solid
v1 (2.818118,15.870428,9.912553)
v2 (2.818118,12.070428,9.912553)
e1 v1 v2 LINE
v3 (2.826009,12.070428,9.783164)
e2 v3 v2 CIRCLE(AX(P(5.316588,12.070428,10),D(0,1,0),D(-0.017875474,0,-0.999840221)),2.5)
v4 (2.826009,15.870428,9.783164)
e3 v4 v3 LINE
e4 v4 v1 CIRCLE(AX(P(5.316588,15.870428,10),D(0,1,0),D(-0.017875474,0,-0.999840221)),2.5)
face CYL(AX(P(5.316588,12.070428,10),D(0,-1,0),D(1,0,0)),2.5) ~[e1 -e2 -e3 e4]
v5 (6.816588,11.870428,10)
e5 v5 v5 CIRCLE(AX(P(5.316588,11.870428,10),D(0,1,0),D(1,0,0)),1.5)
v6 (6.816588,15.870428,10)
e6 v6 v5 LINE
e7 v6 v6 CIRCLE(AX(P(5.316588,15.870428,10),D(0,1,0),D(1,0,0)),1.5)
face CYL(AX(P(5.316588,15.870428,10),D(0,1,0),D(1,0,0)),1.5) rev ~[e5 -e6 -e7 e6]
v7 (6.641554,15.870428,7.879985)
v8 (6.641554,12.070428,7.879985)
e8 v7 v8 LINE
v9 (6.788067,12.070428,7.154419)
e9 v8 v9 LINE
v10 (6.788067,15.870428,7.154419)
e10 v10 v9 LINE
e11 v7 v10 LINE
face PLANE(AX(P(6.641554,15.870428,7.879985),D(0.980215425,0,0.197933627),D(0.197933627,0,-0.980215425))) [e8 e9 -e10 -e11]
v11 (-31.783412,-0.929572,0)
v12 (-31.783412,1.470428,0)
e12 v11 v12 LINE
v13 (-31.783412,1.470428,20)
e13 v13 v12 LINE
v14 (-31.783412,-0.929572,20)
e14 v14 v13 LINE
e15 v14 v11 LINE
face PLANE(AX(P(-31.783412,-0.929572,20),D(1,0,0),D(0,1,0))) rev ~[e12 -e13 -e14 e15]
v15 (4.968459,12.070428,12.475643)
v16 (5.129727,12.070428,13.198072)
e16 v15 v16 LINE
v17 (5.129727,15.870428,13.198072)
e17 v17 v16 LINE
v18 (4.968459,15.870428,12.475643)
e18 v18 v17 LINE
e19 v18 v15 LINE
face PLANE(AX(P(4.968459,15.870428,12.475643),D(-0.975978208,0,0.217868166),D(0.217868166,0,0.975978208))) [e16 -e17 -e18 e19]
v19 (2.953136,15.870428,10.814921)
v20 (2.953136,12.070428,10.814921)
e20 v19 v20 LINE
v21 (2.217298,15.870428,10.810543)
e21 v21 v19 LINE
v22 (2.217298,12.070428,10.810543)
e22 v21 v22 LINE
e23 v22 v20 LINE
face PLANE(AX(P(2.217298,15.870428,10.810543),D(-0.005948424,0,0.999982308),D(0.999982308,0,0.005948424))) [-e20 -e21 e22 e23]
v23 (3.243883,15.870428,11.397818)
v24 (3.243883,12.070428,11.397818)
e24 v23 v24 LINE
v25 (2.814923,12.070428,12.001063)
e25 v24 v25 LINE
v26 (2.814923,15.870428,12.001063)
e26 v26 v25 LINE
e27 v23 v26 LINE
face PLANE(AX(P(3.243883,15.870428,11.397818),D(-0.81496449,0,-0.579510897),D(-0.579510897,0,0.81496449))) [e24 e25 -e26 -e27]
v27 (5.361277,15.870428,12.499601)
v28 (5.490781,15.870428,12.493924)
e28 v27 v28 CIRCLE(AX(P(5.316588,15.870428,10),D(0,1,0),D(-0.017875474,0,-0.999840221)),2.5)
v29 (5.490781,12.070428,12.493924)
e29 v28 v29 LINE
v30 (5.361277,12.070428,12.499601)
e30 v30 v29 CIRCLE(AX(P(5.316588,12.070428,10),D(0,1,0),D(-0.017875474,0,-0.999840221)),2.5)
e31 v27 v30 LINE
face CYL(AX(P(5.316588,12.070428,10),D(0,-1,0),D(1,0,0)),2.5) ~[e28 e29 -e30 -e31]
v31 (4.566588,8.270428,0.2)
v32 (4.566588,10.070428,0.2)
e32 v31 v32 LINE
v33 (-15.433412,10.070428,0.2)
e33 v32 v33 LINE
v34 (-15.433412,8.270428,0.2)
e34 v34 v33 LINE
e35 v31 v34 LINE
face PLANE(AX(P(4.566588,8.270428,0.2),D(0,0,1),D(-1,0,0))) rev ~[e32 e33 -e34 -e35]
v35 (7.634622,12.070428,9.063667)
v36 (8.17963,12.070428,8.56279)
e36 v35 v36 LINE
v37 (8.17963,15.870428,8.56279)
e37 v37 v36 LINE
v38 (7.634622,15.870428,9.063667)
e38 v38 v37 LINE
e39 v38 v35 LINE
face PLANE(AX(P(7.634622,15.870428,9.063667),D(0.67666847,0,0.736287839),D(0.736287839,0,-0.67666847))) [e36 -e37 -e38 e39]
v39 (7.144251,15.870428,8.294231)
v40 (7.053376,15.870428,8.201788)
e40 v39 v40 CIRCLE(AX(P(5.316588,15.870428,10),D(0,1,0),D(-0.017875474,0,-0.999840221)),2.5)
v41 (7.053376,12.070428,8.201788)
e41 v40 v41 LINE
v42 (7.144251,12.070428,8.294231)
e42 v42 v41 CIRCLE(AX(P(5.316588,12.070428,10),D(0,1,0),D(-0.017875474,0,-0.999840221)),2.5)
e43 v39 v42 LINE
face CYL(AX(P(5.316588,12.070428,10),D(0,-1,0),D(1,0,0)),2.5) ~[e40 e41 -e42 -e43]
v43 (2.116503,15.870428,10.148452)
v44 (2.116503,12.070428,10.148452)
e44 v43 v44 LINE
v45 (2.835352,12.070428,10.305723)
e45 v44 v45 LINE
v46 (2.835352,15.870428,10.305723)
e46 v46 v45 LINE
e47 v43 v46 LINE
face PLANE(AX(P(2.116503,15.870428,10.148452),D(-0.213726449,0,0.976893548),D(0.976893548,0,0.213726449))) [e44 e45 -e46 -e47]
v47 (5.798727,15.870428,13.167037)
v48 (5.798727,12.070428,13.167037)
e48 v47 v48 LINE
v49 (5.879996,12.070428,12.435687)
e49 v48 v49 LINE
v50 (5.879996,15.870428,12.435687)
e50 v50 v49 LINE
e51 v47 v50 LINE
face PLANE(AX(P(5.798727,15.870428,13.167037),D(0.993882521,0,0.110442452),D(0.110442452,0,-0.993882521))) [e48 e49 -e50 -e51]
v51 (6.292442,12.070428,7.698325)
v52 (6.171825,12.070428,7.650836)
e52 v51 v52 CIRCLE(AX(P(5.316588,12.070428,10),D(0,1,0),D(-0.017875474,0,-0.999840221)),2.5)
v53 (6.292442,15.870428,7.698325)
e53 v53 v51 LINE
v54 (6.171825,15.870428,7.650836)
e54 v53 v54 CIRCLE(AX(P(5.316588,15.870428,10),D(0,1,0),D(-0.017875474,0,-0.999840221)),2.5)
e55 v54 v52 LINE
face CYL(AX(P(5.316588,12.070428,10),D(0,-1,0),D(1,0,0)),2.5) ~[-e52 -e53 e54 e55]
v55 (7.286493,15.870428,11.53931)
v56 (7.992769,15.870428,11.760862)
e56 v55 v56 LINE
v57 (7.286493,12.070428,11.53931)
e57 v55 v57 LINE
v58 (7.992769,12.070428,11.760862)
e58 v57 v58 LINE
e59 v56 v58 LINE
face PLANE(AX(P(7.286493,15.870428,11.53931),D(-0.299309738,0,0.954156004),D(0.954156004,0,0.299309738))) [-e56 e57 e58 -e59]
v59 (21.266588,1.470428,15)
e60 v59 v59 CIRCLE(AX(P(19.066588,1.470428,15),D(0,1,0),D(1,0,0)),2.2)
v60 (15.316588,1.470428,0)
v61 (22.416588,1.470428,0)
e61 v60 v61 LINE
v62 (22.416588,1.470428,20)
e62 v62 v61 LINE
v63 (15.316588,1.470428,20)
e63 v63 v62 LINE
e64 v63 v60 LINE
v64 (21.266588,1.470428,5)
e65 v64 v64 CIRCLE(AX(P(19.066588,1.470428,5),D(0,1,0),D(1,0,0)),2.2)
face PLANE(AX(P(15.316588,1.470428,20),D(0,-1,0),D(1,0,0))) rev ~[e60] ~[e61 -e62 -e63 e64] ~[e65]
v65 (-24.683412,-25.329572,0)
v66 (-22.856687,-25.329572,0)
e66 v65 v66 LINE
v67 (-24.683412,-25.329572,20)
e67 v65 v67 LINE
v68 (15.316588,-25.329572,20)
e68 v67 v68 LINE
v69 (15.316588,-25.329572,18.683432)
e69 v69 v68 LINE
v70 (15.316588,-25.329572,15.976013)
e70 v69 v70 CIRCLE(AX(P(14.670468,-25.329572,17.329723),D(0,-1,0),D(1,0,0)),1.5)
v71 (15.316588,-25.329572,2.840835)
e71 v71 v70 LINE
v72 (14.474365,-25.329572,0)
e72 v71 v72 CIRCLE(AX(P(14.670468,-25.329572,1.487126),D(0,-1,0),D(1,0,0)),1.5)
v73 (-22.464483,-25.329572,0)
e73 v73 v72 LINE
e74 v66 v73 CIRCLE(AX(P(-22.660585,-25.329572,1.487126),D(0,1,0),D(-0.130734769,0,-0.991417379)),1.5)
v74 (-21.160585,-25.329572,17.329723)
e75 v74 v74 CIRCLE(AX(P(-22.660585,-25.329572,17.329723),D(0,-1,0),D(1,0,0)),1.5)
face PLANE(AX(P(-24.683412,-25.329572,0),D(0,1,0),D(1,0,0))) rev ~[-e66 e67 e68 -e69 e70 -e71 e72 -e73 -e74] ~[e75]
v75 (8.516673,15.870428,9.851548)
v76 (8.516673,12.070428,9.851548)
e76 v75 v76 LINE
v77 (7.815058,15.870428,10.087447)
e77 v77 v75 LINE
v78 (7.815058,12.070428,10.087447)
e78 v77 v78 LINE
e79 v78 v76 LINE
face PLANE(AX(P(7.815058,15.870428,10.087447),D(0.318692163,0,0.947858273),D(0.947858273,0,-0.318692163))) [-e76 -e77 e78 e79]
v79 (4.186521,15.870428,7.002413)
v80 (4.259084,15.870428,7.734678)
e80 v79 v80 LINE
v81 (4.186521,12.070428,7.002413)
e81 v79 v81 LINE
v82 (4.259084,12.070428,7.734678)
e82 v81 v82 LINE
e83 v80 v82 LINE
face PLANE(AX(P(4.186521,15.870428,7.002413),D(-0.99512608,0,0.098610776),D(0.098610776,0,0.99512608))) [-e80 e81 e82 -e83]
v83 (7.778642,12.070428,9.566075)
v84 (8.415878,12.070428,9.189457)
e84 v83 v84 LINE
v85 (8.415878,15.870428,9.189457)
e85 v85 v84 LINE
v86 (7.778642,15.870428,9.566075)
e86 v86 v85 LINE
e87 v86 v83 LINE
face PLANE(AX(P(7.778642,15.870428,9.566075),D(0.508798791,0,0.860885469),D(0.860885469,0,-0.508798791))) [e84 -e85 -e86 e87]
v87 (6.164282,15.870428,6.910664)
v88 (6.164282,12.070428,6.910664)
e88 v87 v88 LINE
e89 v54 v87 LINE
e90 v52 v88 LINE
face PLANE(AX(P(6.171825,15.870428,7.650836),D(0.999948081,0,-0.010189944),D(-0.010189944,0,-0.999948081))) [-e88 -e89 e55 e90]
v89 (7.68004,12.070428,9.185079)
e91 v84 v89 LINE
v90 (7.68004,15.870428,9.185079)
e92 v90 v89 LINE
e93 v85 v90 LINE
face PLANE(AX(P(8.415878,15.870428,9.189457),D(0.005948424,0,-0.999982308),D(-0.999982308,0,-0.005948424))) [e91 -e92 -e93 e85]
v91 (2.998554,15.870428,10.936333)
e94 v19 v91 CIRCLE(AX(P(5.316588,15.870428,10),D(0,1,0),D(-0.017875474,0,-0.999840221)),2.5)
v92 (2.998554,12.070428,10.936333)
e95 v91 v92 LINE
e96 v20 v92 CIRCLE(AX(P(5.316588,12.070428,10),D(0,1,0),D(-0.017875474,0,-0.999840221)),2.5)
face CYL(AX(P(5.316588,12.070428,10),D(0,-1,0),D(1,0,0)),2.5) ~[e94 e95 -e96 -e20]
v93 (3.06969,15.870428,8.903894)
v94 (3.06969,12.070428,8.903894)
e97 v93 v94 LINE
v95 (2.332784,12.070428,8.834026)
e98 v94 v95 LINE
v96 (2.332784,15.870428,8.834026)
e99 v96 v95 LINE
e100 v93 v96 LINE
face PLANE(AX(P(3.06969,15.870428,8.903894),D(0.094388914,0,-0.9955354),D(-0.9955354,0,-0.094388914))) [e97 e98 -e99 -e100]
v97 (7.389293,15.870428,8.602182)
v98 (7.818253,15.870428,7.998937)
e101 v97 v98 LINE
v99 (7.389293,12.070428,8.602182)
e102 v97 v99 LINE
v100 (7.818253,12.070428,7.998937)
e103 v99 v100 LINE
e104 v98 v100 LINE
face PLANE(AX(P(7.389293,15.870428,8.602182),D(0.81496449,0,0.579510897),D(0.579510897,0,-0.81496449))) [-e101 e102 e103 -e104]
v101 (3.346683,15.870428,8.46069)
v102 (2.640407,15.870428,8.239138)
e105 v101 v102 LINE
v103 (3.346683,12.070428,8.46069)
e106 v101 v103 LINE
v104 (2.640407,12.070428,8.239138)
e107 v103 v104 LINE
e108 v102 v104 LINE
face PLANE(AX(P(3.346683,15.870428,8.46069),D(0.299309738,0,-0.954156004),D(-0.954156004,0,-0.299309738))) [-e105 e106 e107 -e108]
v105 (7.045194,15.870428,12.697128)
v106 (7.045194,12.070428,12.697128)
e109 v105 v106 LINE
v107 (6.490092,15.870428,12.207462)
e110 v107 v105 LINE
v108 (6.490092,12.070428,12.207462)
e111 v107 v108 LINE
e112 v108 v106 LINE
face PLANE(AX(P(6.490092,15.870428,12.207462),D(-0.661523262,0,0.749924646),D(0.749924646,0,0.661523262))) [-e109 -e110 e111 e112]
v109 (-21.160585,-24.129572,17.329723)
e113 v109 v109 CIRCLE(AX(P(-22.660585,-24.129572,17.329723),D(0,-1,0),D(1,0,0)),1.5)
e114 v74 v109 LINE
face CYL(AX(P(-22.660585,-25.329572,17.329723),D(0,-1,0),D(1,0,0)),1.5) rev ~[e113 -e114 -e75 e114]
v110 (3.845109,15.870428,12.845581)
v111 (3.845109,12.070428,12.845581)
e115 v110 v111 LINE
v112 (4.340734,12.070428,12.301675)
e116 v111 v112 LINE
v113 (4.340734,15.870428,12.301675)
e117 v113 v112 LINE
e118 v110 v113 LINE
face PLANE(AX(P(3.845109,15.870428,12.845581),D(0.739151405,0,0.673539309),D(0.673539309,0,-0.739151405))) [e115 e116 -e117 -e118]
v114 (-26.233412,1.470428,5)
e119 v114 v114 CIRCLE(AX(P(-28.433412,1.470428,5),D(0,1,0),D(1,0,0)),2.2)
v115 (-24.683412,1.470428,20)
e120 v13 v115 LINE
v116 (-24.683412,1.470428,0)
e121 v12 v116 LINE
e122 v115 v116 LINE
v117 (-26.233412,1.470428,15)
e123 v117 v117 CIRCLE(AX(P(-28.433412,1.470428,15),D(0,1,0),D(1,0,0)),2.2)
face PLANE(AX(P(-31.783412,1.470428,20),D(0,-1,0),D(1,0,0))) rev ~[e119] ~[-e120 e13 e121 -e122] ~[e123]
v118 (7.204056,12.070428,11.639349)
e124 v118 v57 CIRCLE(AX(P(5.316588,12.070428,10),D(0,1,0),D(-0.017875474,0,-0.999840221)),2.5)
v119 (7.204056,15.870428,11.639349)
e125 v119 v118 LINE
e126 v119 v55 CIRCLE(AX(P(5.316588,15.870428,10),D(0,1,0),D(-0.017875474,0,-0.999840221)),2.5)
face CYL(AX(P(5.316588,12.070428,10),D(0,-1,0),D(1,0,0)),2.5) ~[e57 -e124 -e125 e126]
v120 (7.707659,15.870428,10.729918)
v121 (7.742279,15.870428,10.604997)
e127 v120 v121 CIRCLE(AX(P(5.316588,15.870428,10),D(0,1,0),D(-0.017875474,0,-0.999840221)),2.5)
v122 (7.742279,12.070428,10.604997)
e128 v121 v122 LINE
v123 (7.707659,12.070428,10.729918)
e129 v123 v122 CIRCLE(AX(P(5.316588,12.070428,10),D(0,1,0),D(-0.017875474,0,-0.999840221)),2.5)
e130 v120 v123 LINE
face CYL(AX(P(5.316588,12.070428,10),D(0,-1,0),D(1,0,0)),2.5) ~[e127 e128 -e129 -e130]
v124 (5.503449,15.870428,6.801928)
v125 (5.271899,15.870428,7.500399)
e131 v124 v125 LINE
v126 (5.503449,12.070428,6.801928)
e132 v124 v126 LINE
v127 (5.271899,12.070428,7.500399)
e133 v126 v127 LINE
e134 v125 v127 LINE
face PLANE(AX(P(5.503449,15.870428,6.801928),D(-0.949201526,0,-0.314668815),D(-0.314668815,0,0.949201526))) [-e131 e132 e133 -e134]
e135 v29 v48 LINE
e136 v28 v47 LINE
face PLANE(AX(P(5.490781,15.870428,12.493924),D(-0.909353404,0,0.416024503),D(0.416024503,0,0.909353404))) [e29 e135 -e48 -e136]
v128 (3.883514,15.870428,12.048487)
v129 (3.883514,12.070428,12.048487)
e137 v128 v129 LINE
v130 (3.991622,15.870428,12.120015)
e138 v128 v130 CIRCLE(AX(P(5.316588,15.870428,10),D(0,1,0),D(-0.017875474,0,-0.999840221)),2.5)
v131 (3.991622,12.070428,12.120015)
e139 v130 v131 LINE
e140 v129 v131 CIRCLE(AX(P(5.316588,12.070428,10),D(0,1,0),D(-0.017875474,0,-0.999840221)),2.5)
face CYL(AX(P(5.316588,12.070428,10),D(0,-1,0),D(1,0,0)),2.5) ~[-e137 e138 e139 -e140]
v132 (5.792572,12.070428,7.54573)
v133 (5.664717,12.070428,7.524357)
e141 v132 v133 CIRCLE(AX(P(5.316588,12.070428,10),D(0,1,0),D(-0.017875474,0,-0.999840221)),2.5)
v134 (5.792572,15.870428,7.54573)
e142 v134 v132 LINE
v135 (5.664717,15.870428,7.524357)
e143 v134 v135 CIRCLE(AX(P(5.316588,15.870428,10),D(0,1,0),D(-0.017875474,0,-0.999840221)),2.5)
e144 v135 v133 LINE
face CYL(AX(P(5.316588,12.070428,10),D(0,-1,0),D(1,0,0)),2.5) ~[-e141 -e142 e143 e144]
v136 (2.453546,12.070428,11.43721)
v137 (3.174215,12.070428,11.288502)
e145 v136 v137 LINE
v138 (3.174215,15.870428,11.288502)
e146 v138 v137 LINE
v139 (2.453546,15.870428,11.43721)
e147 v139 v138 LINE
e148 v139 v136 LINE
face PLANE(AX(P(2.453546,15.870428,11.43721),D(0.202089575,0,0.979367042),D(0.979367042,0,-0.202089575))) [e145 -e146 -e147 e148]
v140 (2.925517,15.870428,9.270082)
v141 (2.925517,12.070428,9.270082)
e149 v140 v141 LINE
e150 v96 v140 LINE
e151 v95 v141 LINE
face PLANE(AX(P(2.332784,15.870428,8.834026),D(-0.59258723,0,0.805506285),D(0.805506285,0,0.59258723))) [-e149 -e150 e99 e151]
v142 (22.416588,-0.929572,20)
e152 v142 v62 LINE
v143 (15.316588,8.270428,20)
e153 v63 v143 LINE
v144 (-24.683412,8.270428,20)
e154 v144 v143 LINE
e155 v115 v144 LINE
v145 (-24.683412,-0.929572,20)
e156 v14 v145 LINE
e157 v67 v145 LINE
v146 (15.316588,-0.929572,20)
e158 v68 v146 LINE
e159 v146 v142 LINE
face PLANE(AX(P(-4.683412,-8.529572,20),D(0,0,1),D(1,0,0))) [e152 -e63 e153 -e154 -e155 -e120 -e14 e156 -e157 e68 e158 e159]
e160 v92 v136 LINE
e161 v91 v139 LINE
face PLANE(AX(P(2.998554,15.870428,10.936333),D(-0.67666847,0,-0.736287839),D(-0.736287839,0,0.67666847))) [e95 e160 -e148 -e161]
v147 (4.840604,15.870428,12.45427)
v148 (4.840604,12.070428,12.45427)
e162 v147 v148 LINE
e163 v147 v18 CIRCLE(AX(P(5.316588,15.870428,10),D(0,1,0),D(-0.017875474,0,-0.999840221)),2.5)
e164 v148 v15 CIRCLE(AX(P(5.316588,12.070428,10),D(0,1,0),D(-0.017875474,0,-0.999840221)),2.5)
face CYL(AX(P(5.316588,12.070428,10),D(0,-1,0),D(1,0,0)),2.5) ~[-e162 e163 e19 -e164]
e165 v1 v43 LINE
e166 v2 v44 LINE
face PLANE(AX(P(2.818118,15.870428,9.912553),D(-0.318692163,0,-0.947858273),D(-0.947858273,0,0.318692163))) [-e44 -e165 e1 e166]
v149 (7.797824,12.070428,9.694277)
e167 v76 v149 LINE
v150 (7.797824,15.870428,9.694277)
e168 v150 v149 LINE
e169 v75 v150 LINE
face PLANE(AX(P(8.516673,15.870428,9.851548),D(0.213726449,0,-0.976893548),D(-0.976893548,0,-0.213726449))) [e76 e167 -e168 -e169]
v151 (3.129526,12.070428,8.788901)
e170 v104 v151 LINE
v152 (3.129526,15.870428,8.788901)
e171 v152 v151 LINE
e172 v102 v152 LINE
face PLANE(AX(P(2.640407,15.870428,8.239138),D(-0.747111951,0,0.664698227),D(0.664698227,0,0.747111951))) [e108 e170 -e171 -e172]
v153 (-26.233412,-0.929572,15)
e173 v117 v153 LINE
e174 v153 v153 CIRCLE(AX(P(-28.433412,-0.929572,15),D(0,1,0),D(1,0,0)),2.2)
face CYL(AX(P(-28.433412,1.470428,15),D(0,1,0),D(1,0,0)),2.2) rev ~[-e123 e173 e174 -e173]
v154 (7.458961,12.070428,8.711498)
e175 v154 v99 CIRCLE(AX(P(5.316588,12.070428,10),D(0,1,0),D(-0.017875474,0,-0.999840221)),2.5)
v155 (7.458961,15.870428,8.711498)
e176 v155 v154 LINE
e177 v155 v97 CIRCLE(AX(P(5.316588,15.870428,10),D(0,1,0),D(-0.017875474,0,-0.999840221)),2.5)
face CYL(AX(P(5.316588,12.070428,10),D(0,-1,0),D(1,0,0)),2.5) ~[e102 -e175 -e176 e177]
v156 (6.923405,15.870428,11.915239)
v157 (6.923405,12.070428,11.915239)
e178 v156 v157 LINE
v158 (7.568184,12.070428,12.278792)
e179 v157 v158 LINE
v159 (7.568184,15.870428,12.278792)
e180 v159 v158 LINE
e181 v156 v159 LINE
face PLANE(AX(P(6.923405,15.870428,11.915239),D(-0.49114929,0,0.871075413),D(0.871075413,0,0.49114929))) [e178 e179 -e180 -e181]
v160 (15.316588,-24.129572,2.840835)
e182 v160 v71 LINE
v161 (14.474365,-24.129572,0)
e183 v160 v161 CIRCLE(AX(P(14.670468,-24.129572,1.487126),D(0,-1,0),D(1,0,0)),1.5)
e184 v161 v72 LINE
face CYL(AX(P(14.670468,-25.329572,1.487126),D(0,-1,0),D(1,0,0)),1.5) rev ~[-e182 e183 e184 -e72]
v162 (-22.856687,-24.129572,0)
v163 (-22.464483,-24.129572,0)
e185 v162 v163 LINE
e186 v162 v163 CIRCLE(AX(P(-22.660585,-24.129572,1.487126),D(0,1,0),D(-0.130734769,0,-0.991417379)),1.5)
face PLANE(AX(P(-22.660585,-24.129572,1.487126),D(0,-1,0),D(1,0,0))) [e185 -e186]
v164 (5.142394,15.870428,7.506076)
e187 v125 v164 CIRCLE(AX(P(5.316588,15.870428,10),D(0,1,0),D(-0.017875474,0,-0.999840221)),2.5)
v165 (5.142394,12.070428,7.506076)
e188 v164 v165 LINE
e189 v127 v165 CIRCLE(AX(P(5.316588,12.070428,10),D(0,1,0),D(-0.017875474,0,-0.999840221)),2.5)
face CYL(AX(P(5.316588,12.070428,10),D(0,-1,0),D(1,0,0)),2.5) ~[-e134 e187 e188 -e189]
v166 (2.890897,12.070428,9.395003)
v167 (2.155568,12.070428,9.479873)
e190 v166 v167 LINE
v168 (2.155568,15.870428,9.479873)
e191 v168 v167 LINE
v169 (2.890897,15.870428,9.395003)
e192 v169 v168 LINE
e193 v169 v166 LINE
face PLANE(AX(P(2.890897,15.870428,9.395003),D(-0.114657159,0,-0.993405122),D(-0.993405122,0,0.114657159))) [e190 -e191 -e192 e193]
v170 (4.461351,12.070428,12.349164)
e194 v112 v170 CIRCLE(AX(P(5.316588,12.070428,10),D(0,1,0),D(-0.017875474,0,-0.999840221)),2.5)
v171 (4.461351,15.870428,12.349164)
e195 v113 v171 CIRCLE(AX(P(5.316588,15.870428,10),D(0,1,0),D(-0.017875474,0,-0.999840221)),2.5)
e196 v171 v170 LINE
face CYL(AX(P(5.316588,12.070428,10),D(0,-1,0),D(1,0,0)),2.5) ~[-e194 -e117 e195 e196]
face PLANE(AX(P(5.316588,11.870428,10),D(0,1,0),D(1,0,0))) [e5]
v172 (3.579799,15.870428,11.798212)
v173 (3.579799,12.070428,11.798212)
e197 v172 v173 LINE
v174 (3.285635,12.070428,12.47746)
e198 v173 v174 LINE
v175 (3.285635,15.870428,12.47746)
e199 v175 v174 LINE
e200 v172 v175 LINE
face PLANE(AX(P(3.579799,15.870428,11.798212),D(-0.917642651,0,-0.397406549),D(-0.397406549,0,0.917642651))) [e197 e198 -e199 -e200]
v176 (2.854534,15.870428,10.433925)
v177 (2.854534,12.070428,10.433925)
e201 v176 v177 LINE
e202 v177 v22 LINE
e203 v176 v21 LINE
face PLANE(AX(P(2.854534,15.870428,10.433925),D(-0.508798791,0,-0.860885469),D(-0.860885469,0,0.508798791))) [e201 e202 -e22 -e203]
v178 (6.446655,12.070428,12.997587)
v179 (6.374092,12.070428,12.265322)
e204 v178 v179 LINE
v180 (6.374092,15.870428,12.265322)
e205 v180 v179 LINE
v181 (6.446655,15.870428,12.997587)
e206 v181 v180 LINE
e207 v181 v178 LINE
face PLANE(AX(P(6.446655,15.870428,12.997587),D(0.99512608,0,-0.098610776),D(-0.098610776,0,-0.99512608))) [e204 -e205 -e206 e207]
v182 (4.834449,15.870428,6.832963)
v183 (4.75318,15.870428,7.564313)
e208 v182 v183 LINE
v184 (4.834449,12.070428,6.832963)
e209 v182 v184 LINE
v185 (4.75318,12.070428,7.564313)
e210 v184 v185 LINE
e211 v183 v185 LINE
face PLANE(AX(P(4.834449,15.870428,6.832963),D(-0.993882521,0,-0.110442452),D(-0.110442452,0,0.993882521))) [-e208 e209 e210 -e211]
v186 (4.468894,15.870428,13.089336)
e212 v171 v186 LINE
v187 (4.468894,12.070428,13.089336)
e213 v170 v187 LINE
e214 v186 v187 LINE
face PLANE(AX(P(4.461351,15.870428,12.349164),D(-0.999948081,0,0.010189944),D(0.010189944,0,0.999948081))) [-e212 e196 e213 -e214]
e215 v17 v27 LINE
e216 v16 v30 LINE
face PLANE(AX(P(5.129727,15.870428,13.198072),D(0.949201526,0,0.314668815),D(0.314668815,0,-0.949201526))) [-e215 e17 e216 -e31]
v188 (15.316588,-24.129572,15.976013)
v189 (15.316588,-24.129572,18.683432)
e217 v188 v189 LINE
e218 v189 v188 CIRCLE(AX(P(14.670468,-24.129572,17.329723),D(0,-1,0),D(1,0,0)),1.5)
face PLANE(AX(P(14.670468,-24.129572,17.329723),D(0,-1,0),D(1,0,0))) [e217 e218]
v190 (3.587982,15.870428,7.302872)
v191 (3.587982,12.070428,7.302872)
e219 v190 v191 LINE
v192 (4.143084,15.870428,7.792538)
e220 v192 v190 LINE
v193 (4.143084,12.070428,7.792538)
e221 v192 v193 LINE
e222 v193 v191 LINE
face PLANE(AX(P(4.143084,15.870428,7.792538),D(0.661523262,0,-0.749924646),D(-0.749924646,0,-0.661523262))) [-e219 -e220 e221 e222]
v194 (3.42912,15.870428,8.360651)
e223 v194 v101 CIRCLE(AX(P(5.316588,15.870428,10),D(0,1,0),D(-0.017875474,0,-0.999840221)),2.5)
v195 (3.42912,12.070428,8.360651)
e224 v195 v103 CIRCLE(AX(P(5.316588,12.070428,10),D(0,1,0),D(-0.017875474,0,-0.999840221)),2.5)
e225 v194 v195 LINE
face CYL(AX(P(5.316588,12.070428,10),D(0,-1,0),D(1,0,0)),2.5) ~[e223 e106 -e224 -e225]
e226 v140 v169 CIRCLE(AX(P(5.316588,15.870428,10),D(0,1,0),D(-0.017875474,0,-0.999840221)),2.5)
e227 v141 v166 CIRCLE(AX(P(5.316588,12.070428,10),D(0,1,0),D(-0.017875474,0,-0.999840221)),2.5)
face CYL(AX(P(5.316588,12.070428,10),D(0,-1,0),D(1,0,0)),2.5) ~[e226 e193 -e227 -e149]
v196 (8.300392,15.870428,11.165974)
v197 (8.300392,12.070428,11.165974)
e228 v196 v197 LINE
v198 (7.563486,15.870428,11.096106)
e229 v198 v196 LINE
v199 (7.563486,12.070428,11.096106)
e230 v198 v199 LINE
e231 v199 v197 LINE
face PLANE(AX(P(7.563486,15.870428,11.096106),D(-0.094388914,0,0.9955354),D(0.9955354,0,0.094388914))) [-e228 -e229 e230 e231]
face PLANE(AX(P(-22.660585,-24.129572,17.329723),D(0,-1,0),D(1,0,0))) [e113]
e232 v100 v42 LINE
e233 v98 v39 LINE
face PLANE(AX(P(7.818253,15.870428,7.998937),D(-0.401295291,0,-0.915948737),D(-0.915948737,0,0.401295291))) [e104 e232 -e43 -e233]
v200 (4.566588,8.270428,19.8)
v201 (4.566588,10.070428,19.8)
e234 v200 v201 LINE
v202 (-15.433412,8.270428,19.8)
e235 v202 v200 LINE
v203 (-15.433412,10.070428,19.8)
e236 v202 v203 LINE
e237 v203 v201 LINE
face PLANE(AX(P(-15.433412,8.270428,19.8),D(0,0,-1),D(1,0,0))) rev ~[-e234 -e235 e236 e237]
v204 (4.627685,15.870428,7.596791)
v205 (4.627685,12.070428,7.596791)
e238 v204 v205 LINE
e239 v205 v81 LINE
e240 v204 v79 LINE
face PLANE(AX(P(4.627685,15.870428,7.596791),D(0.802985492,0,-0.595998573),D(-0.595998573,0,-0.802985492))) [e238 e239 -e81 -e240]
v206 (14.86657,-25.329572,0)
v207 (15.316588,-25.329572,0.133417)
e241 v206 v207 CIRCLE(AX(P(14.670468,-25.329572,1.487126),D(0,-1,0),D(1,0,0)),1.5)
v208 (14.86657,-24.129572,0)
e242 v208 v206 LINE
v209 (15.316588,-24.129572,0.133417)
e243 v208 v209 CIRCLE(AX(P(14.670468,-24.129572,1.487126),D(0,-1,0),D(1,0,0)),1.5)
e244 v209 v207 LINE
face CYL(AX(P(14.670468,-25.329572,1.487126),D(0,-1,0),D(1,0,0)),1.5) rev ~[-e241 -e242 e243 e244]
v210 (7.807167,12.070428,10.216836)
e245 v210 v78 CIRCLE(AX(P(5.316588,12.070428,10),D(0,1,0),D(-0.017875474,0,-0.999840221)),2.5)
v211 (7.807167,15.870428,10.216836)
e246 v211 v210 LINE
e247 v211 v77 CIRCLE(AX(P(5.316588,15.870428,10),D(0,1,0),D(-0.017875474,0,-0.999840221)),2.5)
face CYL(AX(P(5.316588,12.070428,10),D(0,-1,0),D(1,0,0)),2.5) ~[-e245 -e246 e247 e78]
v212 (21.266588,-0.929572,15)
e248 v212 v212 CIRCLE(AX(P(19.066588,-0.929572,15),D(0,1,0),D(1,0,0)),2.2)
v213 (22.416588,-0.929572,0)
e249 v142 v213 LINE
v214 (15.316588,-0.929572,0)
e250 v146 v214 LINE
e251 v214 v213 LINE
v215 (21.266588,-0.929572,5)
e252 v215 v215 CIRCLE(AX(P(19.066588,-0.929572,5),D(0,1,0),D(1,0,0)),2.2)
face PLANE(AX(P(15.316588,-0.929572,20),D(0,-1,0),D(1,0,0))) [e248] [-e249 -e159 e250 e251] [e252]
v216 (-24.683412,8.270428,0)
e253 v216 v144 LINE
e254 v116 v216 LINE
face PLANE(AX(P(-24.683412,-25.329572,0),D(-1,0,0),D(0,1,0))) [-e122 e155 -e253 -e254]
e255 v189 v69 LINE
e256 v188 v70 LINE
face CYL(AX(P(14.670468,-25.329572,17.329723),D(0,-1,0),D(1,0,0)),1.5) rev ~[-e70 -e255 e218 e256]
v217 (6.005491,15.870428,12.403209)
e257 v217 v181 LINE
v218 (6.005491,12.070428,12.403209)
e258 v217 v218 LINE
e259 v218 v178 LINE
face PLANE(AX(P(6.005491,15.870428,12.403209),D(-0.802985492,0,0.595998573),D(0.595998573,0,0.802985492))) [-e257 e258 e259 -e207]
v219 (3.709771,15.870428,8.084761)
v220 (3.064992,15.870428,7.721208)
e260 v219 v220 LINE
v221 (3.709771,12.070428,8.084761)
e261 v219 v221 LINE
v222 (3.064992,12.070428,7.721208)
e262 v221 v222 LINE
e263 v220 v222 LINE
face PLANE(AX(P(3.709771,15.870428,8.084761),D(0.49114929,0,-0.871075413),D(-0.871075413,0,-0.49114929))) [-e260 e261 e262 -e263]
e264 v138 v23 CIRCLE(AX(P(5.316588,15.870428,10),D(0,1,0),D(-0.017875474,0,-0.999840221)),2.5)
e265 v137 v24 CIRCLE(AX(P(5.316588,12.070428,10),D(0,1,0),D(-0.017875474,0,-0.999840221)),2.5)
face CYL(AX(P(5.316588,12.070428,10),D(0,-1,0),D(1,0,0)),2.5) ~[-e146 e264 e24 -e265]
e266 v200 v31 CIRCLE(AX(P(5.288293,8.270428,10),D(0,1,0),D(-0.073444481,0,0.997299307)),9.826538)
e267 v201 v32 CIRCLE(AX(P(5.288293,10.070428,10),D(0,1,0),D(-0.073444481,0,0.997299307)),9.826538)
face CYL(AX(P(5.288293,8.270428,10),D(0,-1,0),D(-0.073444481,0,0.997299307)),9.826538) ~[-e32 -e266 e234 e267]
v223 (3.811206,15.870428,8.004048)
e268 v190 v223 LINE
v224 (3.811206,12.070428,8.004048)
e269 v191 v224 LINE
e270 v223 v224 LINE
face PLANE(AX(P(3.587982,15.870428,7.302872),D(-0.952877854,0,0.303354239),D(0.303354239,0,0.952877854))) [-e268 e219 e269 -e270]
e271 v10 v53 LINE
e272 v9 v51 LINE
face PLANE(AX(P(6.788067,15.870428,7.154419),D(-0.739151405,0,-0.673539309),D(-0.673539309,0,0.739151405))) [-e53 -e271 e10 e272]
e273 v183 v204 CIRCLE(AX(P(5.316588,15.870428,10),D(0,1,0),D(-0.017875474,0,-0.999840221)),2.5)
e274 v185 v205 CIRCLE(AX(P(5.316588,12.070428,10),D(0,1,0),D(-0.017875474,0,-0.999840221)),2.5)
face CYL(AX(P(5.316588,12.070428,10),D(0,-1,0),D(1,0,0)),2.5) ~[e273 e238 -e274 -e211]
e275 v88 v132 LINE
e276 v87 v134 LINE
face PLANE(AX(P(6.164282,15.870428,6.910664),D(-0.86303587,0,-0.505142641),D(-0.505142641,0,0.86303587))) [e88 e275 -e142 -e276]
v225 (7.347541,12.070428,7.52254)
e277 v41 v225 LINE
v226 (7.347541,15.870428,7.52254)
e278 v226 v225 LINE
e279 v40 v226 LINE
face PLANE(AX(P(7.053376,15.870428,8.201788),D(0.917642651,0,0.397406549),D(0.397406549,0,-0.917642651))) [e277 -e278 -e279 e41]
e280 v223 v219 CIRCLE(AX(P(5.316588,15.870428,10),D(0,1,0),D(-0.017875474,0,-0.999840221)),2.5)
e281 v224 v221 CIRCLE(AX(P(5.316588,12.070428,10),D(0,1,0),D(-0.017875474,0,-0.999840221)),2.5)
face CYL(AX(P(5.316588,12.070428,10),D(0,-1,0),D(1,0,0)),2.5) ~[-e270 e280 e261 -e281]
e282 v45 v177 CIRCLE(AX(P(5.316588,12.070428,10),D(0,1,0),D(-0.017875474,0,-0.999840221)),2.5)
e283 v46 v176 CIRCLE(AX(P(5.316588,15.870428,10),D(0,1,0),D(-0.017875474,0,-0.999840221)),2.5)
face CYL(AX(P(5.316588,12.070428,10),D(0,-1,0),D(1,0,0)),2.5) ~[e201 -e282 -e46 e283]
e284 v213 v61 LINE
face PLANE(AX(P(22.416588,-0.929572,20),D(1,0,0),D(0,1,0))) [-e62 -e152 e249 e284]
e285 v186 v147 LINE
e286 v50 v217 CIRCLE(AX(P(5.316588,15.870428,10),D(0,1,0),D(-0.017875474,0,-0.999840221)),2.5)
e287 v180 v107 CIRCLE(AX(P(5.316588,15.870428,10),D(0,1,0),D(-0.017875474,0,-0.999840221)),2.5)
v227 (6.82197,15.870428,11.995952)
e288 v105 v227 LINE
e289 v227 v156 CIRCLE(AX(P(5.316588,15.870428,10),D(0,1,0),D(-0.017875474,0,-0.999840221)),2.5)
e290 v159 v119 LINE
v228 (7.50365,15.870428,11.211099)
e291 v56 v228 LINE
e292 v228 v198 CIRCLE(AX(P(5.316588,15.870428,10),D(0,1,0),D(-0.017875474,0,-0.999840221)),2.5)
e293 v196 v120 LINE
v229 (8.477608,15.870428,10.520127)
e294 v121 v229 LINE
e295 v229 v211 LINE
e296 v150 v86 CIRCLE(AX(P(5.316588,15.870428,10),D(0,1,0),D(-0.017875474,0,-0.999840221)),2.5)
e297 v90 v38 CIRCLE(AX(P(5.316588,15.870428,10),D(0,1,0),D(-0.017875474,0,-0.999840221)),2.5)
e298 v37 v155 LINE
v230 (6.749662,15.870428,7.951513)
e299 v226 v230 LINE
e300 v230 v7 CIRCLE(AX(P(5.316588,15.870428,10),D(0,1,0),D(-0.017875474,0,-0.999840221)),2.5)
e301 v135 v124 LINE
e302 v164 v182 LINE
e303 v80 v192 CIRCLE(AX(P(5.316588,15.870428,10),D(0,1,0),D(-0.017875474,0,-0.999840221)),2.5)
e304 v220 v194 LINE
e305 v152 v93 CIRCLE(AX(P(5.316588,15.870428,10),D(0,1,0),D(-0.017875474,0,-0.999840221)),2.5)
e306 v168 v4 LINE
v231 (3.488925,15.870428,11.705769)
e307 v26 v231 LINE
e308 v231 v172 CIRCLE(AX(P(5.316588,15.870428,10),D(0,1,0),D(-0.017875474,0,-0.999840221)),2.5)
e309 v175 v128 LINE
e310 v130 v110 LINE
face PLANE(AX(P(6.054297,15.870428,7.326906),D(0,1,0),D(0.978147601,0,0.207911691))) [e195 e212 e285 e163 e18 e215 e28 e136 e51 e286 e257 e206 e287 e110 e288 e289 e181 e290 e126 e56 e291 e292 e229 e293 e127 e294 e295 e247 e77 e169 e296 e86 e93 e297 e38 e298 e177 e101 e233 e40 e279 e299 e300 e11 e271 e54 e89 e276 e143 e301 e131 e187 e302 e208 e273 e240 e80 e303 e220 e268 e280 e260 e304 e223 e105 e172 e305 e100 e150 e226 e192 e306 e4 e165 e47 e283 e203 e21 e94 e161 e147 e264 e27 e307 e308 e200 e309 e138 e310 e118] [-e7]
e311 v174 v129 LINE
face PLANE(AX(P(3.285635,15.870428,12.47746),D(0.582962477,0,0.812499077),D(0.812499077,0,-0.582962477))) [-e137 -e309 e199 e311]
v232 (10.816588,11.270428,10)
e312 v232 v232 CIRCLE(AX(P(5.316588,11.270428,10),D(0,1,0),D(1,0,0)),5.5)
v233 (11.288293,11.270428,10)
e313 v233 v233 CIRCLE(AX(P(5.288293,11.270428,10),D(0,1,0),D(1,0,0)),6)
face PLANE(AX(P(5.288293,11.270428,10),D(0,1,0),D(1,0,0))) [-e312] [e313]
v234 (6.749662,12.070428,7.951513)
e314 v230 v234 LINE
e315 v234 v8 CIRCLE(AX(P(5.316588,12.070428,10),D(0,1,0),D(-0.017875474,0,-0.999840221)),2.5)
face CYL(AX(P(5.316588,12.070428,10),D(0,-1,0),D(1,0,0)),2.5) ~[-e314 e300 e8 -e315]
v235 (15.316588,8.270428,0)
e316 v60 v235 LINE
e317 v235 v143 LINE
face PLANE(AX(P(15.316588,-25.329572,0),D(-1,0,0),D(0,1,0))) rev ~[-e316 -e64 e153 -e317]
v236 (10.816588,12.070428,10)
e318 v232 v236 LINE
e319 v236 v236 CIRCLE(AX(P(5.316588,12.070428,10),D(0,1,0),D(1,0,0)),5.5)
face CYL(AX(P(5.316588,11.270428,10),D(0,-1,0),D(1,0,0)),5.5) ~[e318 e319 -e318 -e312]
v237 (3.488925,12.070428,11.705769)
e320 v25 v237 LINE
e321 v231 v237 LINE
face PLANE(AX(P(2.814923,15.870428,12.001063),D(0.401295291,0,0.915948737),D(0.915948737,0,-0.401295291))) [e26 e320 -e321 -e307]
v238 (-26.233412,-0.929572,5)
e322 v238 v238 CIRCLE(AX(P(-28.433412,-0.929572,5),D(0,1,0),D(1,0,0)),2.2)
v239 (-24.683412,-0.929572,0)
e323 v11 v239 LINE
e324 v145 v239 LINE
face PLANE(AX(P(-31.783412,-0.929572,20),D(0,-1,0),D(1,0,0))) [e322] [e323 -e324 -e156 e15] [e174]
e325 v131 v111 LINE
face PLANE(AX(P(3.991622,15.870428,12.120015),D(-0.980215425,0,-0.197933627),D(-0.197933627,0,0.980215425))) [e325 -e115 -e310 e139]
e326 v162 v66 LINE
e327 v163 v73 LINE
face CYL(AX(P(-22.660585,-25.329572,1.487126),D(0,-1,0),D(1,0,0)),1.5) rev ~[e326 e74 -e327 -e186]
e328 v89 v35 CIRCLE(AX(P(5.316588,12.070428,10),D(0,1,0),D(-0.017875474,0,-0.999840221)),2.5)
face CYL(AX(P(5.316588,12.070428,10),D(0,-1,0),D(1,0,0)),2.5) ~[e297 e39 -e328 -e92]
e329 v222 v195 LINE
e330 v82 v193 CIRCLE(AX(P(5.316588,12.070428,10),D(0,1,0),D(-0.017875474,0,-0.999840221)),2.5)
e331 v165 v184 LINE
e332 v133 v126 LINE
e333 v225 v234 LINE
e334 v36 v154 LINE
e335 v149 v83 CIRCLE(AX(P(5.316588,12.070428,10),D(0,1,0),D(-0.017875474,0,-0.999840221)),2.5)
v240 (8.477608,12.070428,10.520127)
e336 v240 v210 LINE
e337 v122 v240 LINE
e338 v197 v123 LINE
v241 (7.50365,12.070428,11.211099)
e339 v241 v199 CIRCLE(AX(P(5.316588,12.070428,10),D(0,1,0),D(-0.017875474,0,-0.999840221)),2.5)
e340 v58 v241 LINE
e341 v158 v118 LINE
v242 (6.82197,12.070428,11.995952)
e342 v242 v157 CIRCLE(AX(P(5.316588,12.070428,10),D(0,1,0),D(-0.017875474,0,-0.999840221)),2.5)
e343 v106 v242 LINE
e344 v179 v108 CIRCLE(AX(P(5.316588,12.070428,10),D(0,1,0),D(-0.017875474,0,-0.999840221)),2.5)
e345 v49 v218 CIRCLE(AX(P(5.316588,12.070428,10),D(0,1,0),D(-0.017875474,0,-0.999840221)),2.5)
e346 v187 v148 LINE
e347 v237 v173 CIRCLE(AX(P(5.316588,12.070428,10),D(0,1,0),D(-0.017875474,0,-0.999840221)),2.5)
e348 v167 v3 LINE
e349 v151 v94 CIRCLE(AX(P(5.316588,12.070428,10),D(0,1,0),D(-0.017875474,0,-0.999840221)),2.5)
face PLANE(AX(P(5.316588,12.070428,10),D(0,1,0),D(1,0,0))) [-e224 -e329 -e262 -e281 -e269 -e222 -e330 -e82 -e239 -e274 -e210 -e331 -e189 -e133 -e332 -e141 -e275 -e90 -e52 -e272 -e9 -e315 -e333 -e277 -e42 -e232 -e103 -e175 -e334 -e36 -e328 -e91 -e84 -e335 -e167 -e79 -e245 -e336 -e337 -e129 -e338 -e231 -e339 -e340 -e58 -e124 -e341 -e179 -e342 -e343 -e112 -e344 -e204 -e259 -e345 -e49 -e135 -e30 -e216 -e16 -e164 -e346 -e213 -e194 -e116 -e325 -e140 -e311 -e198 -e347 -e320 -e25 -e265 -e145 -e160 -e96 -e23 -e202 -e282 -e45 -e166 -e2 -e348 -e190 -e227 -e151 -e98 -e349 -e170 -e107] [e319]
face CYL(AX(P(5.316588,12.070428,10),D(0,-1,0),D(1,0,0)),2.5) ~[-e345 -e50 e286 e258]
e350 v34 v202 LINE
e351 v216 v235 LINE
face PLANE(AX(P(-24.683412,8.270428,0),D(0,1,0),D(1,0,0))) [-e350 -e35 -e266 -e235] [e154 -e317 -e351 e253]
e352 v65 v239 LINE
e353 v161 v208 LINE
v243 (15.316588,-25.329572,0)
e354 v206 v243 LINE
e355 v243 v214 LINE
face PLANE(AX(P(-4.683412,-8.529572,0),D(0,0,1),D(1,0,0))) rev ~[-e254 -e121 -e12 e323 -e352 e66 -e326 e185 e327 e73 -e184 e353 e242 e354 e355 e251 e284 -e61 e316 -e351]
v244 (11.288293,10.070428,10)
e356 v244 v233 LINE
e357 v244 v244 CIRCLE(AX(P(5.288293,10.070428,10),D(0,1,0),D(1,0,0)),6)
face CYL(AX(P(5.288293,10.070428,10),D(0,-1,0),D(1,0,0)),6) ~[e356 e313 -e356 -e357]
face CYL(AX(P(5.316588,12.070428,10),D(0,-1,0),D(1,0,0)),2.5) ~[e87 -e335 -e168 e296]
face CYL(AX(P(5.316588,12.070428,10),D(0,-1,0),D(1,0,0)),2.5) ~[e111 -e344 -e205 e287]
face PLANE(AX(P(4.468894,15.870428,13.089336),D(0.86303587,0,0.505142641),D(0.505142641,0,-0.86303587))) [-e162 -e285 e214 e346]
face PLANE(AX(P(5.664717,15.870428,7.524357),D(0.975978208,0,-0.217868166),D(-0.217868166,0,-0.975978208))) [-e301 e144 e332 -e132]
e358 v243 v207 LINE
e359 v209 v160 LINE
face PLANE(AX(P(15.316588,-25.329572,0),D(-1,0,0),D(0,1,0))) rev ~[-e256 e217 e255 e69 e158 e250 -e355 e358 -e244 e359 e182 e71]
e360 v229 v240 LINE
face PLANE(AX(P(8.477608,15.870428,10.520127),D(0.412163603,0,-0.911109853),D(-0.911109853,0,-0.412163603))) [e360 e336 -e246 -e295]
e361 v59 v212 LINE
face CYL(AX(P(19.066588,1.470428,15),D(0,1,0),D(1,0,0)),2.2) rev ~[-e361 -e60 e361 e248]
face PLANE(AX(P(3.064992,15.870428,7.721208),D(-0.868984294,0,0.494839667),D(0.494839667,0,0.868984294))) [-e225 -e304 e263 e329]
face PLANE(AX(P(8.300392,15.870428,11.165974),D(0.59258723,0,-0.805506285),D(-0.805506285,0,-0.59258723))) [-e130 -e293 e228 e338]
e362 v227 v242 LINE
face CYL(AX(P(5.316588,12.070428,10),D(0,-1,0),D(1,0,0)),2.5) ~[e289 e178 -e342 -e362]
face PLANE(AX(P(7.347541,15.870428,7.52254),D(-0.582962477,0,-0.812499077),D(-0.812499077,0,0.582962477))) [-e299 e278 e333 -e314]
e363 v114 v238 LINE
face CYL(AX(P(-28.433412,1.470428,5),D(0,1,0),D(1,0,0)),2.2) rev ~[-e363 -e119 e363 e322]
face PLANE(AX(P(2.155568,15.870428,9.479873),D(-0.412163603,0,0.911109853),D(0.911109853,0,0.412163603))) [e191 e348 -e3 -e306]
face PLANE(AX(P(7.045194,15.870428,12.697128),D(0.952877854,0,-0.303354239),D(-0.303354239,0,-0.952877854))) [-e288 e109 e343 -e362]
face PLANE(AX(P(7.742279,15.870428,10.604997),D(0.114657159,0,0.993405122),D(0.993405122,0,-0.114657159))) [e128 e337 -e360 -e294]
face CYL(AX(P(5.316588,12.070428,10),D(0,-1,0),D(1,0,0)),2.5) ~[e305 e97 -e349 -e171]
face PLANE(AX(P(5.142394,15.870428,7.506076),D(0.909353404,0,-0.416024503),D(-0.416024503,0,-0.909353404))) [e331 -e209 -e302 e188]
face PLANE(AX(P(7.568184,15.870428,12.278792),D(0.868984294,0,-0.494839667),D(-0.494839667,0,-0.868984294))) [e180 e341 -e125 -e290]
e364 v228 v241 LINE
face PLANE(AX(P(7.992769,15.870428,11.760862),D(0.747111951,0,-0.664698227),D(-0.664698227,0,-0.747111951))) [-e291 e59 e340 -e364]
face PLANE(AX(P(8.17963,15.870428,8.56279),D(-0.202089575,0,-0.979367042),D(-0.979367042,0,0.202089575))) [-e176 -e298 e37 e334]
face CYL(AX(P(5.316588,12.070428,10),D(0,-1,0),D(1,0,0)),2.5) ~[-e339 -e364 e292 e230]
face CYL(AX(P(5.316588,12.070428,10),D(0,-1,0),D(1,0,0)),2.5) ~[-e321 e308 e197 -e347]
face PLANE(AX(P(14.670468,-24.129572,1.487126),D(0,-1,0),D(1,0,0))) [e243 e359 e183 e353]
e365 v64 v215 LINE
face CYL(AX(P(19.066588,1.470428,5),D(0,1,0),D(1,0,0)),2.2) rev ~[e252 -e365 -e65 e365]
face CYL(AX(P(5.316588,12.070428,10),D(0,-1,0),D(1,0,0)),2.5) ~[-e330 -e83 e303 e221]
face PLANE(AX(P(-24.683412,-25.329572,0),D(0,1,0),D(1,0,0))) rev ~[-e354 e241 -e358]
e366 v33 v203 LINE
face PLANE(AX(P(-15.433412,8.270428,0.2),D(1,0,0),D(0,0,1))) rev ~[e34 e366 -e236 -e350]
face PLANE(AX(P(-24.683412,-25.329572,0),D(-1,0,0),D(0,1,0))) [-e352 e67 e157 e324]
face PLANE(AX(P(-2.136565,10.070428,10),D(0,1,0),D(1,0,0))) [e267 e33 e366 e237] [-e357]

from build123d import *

# Parameters (mm, degrees)
SKETCH1_W           = 40
SKETCH1_H           = 33.6
BOSS_EXTRUDE1_DEPTH = 20
SKETCH2_W           = 7.1
SKETCH2_H           = 2.4
BOSS_EXTRUDE2_DEPTH = 20
SKETCH4_R           = 2.2
CUT_EXTRUDE1_DEPTH  = 3
BOSS_EXTRUDE4_DEPTH = 1.8
SKETCH6_R           = 1.5
CUT_EXTRUDE2_DEPTH  = 1.2
SKETCH7_R           = 6
BOSS_EXTRUDE5_DEPTH = 1.2
SKETCH8_R           = 5.5
BOSS_EXTRUDE6_DEPTH = 0.8
SKETCH10_R          = 2.5
BOSS_EXTRUDE8_DEPTH = 3.8
BOSS_EXTRUDE9_DEPTH = 4
CIRPATTERN2_COUNT   = 30
SKETCH12_R          = 1.5
CUT_EXTRUDE4_DEPTH  = 4


with BuildPart() as part:
    # Sketch1 → Boss-Extrude1 (new body)
    with BuildSketch(Plane.XY):
        with Locations((-4.683412042, -8.529571984)):
            Rectangle(SKETCH1_W, SKETCH1_H)
    extrude(amount=BOSS_EXTRUDE1_DEPTH)

    # Sketch2 → Boss-Extrude2 (add)
    with BuildSketch(Plane.XY.offset(20)):
        with Locations((18.866587958, 0.270428016)):
            Rectangle(SKETCH2_W, SKETCH2_H)
        with Locations((-28.233412042, 0.270428016)):
            Rectangle(SKETCH2_W, SKETCH2_H)
    extrude(amount=-BOSS_EXTRUDE2_DEPTH)

    # Sketch4 → Cut-Extrude1 (cut)
    with BuildSketch(Plane(origin=(0, 1.470428016, 0), x_dir=(1, 0, 0), z_dir=(0, 1, 0))):
        with Locations((19.066587958, -15)):
            Circle(SKETCH4_R)
        with Locations((19.066587958, -5)):
            Circle(SKETCH4_R)
        with Locations((-28.433412042, -15)):
            Circle(SKETCH4_R)
        with Locations((-28.433412042, -5)):
            Circle(SKETCH4_R)
    extrude(amount=-CUT_EXTRUDE1_DEPTH, mode=Mode.SUBTRACT)

    # Sketch5 → Boss-Extrude4 (add)
    with BuildSketch(Plane(origin=(0, 8.270428016, 0), x_dir=(1, 0, 0), z_dir=(0, 1, 0))):
        with BuildLine():
            Line((-15.433412042, -0.2), (-15.433412042, -19.8))
            Line((-15.433412042, -19.8), (4.566587958, -19.8))
            ThreePointArc((4.566587958, -19.8), (15.11483144, -10), (4.566587958, -0.2))
            Line((4.566587958, -0.2), (-15.433412042, -0.2))
        make_face()
    extrude(amount=BOSS_EXTRUDE4_DEPTH)

    # Sketch6 → Cut-Extrude2 (cut)
    with BuildSketch(Plane.XZ.offset(25.329571984)):
        with Locations((-22.660585011, 17.329722527)):
            Circle(SKETCH6_R)
        with Locations((-22.660585011, 1.487126069)):
            Circle(SKETCH6_R)
        with Locations((14.670467636, 17.329722527)):
            Circle(SKETCH6_R)
        with Locations((14.670467636, 1.487126069)):
            Circle(SKETCH6_R)
    extrude(amount=-CUT_EXTRUDE2_DEPTH, mode=Mode.SUBTRACT)

    # Sketch7 → Boss-Extrude5 (add)
    with BuildSketch(Plane(origin=(0, 10.070428016, 0), x_dir=(1, 0, 0), z_dir=(0, 1, 0))):
        with Locations((5.288292978, -10)):
            Circle(SKETCH7_R)
    extrude(amount=BOSS_EXTRUDE5_DEPTH)

    # Sketch8 → Boss-Extrude6 (add)
    with BuildSketch(Plane(origin=(0, 11.270428016, 0), x_dir=(1, 0, 0), z_dir=(0, 1, 0))):
        with Locations((5.316587958, -10)):
            Circle(SKETCH8_R)
    extrude(amount=BOSS_EXTRUDE6_DEPTH)

    # Sketch10 → Boss-Extrude8 (add)
    with BuildSketch(Plane(origin=(0, 12.070428016, 0), x_dir=(1, 0, 0), z_dir=(0, 1, 0))):
        with Locations((5.316587958, -10)):
            Circle(SKETCH10_R)
    extrude(amount=BOSS_EXTRUDE8_DEPTH)

    # Sketch11 → Boss-Extrude9 (add)
    with BuildSketch(Plane(origin=(0, 15.870428016, 0), x_dir=(1, 0, 0), z_dir=(0, 1, 0))):
        Polygon((5.503448723, -6.801928291), (5.271899273, -7.500399448), (5.664716985, -7.524357421), align=None)
    boss_extrude9 = extrude(amount=-BOSS_EXTRUDE9_DEPTH)

    # CirPattern2: Boss-Extrude9 ×30 about axis
    cirpattern2_axis = Axis((5.316587958, 0, 10), (0, 1, 0))
    for i in range(1, CIRPATTERN2_COUNT):
        add(boss_extrude9.rotate(cirpattern2_axis, i * 360 / CIRPATTERN2_COUNT))

    # Sketch12 → Cut-Extrude4 (cut)
    with BuildSketch(Plane(origin=(0, 15.870428016, 0), x_dir=(1, 0, 0), z_dir=(0, 1, 0))):
        with Locations((5.316587958, -10)):
            Circle(SKETCH12_R)
    extrude(amount=-CUT_EXTRUDE4_DEPTH, mode=Mode.SUBTRACT)


solid = part.part
